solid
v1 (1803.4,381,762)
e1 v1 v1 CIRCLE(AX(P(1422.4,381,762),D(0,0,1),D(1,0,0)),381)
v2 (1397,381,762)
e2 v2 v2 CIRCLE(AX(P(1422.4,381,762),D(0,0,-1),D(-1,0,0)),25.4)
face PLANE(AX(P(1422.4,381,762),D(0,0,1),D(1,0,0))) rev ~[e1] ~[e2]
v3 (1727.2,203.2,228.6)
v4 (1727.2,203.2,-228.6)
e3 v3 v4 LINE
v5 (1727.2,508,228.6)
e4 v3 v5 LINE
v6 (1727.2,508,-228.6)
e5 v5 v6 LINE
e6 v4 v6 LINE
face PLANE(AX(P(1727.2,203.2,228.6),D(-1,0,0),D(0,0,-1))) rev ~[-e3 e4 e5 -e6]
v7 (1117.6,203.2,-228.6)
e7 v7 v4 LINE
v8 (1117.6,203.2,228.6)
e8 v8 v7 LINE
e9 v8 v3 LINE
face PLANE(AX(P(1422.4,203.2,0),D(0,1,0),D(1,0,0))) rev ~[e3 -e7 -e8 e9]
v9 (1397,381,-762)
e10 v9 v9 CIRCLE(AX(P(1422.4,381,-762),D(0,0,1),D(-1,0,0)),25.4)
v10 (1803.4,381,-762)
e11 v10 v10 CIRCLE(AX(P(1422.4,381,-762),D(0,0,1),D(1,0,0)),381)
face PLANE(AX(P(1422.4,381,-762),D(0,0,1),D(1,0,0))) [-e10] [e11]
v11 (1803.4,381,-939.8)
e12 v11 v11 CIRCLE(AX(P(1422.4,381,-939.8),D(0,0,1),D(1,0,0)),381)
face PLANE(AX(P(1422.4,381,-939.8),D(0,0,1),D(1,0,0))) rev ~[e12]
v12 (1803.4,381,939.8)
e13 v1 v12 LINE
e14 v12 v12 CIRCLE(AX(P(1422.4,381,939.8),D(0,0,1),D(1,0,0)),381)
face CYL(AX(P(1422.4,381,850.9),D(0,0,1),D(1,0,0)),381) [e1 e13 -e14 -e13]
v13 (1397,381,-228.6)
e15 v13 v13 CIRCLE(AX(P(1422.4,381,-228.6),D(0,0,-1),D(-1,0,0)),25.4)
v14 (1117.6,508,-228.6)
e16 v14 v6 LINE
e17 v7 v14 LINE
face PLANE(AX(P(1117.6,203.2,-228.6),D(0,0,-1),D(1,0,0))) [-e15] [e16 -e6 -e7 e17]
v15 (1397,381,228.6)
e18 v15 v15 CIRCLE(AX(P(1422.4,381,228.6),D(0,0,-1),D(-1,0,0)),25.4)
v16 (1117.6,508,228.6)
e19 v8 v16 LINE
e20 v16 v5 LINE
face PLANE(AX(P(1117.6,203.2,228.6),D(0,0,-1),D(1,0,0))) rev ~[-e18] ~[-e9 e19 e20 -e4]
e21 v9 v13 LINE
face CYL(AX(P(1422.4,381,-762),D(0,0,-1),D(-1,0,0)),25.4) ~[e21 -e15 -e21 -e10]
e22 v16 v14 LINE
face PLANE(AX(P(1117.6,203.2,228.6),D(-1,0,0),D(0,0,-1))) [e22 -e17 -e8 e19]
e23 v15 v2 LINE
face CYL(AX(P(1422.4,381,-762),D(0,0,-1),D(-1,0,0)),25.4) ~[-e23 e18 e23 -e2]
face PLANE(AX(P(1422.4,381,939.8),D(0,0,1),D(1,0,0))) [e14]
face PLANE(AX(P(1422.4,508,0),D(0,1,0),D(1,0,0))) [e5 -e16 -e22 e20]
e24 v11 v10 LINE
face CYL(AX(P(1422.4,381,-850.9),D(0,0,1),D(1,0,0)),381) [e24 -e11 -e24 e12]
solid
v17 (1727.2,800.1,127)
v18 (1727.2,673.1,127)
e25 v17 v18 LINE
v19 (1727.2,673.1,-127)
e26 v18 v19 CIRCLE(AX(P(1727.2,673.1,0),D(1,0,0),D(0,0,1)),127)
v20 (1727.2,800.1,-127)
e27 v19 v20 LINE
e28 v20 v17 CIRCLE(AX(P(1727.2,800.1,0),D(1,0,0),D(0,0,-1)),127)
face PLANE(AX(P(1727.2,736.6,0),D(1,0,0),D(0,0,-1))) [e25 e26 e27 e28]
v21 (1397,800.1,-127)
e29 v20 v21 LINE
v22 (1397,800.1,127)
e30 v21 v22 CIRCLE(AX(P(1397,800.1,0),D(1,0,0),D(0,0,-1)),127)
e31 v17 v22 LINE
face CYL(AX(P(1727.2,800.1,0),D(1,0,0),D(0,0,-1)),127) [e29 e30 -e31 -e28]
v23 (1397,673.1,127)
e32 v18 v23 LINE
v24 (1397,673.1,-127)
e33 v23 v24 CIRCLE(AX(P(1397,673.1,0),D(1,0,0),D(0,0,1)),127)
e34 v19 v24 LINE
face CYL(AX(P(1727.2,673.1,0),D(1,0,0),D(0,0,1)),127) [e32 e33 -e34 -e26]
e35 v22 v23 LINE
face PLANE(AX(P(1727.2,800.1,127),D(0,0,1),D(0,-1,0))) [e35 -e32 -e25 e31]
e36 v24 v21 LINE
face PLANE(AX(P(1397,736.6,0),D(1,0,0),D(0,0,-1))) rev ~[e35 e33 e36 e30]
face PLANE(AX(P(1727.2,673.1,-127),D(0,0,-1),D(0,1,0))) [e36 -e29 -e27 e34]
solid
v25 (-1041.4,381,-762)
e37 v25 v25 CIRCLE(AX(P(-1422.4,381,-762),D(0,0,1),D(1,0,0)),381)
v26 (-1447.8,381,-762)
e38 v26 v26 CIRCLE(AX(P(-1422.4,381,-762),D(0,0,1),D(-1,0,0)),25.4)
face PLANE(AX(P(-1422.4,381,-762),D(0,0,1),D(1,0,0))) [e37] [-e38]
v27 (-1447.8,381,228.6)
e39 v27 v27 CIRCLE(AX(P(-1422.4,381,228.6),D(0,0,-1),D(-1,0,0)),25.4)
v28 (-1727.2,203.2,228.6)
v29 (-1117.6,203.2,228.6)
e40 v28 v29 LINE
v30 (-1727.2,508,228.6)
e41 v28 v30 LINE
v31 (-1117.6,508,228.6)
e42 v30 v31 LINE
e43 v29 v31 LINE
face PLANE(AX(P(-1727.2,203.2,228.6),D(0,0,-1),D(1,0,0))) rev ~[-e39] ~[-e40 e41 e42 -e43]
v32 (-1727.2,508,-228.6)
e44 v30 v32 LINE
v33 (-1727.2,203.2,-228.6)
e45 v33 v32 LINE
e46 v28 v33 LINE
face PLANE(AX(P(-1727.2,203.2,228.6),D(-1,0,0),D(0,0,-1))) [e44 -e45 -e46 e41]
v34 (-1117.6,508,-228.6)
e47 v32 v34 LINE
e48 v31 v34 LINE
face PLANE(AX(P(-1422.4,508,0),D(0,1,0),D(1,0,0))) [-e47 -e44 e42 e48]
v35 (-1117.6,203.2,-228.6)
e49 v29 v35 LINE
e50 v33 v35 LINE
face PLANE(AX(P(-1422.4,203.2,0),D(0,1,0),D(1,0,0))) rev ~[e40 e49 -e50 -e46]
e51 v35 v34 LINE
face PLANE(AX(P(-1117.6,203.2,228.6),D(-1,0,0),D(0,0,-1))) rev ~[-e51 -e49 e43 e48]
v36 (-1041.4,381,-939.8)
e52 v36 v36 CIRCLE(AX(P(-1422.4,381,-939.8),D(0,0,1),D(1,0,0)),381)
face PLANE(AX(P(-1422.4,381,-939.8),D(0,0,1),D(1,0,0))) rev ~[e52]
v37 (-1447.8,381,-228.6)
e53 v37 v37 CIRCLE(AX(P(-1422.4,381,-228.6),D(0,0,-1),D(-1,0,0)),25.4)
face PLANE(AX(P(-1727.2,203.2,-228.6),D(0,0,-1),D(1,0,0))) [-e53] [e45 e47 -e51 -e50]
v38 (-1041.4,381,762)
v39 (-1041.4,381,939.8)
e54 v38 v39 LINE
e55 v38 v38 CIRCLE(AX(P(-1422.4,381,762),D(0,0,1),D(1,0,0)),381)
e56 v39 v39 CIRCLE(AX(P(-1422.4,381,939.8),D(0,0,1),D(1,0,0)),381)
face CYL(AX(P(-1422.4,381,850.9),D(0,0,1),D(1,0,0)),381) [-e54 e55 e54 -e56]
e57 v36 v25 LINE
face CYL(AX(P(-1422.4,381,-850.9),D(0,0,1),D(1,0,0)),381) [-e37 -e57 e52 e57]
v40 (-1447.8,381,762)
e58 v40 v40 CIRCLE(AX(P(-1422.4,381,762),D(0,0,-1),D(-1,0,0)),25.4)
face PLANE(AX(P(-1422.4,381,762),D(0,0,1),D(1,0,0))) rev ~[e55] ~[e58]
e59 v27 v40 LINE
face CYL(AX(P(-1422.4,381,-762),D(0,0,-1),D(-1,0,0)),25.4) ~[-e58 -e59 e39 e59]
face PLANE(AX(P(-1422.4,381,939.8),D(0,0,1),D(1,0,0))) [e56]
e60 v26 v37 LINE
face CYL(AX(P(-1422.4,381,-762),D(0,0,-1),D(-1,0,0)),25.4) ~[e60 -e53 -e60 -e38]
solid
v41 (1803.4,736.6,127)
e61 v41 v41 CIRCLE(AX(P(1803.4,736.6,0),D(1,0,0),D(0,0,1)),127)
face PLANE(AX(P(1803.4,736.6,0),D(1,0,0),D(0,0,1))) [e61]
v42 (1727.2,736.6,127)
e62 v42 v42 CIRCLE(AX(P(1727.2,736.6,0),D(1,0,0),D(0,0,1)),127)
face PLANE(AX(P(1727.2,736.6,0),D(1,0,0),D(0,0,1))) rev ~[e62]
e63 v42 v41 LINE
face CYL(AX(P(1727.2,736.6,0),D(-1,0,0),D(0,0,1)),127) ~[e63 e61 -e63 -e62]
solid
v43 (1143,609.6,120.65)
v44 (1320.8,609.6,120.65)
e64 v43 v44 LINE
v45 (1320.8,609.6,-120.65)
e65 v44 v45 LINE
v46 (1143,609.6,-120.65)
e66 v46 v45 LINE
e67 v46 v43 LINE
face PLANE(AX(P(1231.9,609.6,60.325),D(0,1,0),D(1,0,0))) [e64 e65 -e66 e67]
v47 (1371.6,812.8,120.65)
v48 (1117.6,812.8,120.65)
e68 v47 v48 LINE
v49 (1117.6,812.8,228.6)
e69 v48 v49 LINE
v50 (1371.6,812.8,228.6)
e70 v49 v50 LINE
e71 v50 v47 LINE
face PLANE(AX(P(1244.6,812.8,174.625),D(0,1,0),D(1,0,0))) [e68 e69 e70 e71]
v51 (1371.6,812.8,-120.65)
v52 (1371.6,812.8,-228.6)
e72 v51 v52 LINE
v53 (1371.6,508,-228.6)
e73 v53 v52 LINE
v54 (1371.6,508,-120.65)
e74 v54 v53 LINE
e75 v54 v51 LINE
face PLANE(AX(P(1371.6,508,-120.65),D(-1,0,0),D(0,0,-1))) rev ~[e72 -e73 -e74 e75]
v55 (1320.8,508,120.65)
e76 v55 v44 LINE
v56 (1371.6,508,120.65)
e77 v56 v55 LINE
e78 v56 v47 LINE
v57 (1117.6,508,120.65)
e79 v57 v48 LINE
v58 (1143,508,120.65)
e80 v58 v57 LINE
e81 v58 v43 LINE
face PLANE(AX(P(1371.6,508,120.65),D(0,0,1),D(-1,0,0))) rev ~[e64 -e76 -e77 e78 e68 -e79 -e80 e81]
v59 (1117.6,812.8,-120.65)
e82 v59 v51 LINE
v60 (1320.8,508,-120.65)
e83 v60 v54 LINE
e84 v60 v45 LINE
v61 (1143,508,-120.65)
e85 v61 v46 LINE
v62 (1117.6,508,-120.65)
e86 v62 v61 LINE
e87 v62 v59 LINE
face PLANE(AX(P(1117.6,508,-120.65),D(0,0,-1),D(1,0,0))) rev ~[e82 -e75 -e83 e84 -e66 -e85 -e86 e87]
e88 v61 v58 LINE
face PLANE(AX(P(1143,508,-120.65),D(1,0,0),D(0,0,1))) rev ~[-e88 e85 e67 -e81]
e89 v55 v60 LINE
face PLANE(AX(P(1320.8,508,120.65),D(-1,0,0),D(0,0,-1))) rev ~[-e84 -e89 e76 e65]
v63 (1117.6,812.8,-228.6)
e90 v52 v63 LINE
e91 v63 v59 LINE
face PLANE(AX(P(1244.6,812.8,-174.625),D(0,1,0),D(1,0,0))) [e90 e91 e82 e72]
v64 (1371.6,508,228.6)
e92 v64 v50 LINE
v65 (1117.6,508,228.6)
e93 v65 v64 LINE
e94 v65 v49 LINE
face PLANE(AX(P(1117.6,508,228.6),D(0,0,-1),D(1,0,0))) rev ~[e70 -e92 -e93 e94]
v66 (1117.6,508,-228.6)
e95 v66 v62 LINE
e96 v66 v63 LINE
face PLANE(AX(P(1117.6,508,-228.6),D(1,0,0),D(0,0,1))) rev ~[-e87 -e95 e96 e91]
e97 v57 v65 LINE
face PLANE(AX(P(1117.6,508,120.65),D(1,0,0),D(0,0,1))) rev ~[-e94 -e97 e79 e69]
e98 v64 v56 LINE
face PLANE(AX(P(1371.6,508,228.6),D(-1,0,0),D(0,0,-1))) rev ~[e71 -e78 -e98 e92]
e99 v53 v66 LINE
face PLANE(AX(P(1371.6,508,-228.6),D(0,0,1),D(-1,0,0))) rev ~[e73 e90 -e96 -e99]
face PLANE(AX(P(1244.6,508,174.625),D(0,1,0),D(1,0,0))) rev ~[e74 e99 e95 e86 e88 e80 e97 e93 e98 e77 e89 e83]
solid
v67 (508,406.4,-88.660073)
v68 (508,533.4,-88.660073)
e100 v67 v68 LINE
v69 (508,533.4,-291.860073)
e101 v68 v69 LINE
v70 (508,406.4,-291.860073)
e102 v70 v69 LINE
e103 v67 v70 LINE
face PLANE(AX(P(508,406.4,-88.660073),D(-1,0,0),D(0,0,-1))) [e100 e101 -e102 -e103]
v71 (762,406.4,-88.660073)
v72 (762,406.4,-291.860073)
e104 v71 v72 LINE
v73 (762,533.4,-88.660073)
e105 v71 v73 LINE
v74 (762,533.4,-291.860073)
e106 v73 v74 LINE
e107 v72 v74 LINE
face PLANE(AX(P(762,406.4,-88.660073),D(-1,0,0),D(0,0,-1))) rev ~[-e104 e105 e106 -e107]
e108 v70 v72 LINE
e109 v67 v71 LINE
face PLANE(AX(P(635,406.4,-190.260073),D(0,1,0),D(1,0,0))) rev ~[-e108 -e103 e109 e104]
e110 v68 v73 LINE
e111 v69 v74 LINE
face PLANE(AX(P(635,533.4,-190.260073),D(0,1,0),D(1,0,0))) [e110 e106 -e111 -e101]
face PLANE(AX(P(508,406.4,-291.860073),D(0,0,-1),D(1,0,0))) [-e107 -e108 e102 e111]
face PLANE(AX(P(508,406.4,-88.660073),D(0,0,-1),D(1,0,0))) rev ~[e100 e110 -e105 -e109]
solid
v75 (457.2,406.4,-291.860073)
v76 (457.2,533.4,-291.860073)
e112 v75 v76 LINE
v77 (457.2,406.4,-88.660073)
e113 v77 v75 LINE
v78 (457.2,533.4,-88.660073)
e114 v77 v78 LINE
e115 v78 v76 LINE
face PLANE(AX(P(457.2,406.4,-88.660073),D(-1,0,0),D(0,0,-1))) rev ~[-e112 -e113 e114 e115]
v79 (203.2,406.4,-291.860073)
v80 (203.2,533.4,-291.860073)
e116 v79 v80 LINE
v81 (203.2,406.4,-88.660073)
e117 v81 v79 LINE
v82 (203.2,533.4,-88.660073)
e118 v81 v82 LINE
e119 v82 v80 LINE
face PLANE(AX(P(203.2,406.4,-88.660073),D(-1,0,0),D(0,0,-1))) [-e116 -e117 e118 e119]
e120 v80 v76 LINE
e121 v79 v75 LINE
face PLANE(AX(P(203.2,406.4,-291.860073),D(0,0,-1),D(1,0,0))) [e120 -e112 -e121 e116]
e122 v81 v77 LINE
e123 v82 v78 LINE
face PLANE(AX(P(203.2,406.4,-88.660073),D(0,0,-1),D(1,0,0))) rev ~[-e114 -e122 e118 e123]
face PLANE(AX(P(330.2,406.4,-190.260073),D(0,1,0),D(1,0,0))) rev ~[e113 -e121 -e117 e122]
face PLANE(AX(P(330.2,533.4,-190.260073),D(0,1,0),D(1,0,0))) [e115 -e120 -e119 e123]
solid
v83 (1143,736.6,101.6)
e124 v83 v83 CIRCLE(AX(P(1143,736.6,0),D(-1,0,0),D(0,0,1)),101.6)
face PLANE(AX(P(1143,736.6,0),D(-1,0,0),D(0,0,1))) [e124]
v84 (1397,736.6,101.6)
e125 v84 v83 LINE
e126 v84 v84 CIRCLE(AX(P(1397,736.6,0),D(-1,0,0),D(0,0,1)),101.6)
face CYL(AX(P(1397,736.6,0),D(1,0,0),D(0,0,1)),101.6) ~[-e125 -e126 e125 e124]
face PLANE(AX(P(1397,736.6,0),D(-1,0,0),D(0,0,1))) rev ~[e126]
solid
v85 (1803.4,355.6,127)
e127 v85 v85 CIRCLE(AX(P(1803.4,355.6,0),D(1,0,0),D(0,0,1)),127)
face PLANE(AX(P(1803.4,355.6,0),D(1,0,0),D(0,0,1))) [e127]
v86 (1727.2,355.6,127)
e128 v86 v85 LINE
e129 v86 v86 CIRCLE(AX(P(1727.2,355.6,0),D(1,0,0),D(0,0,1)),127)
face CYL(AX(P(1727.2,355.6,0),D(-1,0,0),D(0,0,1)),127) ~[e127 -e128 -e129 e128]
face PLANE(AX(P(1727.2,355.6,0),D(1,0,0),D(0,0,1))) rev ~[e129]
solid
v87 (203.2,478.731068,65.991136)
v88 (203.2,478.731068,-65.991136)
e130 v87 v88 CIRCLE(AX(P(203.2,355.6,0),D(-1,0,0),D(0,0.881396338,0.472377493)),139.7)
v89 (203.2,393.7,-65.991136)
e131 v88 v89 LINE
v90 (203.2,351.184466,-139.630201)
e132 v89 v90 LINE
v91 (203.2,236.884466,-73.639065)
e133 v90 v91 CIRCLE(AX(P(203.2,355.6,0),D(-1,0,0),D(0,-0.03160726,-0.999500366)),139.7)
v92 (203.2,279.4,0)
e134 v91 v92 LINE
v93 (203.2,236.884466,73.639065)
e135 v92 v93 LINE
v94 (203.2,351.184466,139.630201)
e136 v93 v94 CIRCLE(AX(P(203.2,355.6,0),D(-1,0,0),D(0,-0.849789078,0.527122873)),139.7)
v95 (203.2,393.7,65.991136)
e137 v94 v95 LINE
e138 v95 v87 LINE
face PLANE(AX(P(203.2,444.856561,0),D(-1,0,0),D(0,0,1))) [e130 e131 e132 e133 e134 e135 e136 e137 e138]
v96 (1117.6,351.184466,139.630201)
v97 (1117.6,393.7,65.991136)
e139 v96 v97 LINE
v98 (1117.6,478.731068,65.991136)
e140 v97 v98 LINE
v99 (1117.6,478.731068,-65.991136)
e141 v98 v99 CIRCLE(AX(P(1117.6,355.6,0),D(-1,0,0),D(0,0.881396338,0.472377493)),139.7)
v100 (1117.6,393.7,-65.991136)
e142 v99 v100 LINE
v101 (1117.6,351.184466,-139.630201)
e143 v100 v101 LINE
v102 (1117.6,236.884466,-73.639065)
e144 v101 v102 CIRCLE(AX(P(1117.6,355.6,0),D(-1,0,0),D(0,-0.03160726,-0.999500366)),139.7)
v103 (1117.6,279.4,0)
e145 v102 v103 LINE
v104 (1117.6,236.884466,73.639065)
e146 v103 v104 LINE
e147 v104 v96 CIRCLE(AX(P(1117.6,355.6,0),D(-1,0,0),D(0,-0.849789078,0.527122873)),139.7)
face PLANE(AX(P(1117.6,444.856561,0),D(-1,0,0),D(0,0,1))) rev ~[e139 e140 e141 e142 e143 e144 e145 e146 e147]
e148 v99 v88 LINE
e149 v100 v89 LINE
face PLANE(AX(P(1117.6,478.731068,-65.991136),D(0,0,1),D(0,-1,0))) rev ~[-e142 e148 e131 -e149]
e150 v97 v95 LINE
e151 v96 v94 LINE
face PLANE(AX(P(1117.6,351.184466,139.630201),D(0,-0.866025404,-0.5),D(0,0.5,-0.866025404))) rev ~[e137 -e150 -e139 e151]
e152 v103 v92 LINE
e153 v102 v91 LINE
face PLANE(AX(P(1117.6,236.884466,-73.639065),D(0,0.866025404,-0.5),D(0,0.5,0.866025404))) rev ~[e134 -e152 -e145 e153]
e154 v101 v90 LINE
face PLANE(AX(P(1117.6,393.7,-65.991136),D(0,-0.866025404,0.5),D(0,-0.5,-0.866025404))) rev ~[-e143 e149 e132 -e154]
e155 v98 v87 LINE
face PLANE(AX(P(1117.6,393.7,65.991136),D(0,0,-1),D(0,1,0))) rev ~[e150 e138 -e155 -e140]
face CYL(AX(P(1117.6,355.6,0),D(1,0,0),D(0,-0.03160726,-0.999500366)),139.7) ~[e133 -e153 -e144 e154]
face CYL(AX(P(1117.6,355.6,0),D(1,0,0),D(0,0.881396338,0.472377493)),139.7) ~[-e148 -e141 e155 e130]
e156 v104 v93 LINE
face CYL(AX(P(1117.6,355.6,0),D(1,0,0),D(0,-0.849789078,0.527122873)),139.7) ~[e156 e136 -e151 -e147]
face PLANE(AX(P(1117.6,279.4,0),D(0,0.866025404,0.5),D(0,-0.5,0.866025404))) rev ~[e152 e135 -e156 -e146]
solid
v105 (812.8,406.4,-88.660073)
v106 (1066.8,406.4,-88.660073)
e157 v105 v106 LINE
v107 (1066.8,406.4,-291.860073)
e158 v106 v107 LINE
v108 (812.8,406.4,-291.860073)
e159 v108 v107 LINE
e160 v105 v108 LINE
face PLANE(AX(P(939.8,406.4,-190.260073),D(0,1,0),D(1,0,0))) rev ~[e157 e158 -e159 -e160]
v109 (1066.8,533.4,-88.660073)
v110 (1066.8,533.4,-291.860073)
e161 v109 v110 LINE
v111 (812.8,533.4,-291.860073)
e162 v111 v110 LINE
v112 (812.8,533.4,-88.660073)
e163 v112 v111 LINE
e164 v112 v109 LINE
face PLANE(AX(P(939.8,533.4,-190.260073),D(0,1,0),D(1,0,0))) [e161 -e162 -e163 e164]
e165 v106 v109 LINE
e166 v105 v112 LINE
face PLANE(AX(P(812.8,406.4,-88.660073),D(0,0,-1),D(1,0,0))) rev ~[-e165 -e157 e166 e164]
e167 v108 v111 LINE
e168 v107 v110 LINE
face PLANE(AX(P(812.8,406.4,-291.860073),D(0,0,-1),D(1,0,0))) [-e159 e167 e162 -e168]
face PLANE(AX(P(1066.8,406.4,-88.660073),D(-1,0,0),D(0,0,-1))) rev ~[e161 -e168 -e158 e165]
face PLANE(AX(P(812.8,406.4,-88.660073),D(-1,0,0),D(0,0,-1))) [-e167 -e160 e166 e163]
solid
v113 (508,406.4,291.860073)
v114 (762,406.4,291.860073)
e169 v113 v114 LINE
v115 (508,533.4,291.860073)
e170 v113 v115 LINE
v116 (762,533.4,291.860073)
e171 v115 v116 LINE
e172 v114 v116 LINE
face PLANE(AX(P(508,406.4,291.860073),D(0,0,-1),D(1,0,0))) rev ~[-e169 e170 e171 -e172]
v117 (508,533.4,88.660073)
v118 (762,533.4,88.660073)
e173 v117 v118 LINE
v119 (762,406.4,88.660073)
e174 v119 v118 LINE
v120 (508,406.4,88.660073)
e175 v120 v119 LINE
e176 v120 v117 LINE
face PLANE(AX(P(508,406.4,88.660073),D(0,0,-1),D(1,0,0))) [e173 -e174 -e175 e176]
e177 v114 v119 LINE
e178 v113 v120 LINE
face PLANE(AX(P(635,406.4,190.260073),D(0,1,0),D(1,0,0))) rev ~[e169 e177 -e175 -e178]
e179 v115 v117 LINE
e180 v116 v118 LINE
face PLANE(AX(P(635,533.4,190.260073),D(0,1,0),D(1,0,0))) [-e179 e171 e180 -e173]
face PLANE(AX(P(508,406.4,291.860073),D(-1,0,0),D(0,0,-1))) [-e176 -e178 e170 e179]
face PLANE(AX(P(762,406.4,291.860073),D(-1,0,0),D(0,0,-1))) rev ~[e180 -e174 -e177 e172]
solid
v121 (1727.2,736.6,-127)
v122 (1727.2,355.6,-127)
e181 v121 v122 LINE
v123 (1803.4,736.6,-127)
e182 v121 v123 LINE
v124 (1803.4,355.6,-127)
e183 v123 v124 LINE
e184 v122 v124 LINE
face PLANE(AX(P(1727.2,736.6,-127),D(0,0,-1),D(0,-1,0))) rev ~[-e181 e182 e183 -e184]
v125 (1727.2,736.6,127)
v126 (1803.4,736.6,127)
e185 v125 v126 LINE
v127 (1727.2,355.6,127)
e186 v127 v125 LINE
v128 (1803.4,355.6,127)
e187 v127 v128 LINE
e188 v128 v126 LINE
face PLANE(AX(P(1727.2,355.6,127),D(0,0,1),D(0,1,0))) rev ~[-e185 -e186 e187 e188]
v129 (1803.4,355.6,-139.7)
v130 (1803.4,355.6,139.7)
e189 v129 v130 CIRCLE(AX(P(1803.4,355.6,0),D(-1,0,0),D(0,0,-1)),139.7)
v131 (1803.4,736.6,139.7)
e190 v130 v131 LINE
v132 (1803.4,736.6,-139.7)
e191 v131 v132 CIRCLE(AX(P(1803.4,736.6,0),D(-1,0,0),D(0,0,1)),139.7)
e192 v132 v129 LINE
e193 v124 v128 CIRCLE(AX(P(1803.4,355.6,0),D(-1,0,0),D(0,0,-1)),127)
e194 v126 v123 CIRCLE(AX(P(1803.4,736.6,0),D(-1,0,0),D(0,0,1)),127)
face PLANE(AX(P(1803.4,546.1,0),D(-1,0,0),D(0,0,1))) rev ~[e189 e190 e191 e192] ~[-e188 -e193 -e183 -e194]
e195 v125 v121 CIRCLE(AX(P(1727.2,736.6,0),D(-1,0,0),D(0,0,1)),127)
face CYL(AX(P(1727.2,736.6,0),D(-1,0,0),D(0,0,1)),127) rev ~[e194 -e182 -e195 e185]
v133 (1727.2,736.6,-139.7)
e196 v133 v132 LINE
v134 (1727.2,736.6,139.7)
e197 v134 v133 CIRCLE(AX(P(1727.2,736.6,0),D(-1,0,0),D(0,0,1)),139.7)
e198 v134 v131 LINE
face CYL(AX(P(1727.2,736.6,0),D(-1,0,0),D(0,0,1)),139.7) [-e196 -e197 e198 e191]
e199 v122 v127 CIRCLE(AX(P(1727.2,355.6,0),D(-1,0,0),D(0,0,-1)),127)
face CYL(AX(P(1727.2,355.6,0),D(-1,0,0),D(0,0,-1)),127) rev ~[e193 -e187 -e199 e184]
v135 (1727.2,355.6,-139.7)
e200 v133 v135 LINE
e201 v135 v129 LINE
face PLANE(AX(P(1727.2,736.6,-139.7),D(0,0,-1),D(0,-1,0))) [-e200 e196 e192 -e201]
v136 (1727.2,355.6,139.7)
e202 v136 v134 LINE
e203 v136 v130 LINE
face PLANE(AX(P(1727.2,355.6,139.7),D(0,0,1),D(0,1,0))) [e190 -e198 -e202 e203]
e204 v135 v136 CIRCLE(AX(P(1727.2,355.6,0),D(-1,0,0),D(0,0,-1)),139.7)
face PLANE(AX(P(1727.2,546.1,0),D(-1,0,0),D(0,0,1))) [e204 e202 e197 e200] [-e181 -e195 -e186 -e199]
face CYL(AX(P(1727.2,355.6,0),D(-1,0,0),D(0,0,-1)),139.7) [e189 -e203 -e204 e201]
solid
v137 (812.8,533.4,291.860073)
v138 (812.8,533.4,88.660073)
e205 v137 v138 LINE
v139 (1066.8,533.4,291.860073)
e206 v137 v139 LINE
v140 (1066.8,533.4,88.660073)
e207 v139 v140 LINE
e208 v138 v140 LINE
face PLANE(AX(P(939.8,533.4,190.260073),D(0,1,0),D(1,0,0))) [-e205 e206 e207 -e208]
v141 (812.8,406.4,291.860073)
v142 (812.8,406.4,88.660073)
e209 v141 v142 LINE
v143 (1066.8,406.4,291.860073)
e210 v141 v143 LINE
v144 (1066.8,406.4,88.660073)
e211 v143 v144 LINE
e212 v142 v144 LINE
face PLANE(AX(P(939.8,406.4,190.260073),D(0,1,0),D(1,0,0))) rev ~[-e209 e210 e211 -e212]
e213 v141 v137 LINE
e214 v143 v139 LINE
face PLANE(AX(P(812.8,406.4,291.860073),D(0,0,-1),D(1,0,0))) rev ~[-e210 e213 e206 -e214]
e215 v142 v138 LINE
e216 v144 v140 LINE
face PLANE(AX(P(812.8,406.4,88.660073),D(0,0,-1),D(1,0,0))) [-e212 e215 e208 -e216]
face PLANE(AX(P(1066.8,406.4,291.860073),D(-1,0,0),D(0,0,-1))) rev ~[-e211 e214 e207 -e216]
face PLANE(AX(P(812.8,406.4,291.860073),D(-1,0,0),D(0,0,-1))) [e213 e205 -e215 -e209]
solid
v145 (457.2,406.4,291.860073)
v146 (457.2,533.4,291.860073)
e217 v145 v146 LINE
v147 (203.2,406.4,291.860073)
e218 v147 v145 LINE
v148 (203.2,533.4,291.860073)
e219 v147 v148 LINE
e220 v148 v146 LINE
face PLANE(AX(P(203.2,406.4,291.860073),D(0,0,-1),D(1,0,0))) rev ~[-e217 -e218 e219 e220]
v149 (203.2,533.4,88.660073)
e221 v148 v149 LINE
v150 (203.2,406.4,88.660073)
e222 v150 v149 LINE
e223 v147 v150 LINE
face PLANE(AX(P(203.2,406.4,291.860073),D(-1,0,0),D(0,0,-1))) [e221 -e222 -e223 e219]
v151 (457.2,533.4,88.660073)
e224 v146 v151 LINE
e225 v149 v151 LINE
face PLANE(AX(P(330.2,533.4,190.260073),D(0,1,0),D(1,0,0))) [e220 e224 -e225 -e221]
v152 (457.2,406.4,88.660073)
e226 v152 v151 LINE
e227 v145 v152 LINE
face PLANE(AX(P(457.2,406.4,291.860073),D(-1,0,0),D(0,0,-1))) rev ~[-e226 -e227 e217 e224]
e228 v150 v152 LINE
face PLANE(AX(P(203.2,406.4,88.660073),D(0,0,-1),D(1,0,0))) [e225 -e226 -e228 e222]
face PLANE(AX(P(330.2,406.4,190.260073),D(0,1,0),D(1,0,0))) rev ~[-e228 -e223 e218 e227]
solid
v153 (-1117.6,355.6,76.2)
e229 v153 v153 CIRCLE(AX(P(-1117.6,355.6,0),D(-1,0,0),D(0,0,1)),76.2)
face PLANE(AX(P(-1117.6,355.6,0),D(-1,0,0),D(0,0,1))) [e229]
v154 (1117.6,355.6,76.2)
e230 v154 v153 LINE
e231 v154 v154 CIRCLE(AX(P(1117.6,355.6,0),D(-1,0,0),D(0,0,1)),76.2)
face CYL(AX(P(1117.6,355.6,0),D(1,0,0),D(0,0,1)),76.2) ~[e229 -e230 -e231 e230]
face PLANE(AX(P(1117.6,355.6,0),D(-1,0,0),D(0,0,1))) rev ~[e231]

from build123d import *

# Parameters (mm, degrees)
SKETCH4_R              = 381
BOSS_EXTRUDE1_DEPTH    = 88.9
BOSS_EXTRUDE1_2_DEPTH  = 88.9
SKETCH3_R              = 381
BOSS_EXTRUDE2_DEPTH    = 88.9
BOSS_EXTRUDE2_2_DEPTH  = 88.9
BOSS_EXTRUDE3_START    = 203.2
SKETCH1_W              = 609.6
SKETCH1_H              = 457.2
BOSS_EXTRUDE3_DEPTH    = 304.8
BOSS_EXTRUDE3_2_DEPTH  = 304.8
SKETCH5_R              = 76.2
BOSS_EXTRUDE4_DEPTH    = 914.4
SKETCH5_3_R            = 76.2
BOSS_EXTRUDE5_DEPTH    = 2235.2
SKETCH6_R              = 127
BOSS_EXTRUDE6_DEPTH    = 76.2
BOSS_EXTRUDE6_2_DEPTH  = 76.2
BOSS_EXTRUDE8_DEPTH    = 330.2
SKETCH9_R              = 101.6
BOSS_EXTRUDE9_DEPTH    = 254
BOSS_EXTRUDE10_DEPTH   = 76.2
SKETCH11_W             = 254
SKETCH11_H             = 203.2
BOSS_EXTRUDE11_DEPTH   = 127
BOSS_EXTRUDE11_2_DEPTH = 127
BOSS_EXTRUDE11_3_DEPTH = 127
BOSS_EXTRUDE11_4_DEPTH = 127
BOSS_EXTRUDE11_5_DEPTH = 127
BOSS_EXTRUDE11_6_DEPTH = 127
BOSS_EXTRUDE12_DEPTH   = 304.8
BOSS_EXTRUDE12_2_DEPTH = 304.8
SKETCH12_3_W           = 177.8
SKETCH12_3_H           = 120.65
BOSS_EXTRUDE13_DEPTH   = 101.6
BOSS_EXTRUDE15_REACH   = 2649.242
SKETCH13_R             = 25.4


with BuildPart() as part:
    # Sketch4 → Boss-Extrude1 (new, symmetric)
    with BuildSketch(Plane.XY.offset(-850.9)):
        with Locations((1422.4, 381)):
            Circle(SKETCH4_R)
    extrude(amount=BOSS_EXTRUDE1_DEPTH, both=True)


with BuildPart() as body_2:
    # Sketch4 → Boss-Extrude1 2 (new, symmetric)
    with BuildSketch(Plane.XY.offset(-850.9)):
        with Locations((-1422.4, 381)):
            Circle(SKETCH4_R)
    extrude(amount=BOSS_EXTRUDE1_2_DEPTH, both=True)


with BuildPart() as body_3:
    # Sketch3 → Boss-Extrude2 (new, symmetric)
    with BuildSketch(Plane.XY.offset(850.9)):
        with Locations((1422.4, 381)):
            Circle(SKETCH3_R)
    extrude(amount=BOSS_EXTRUDE2_DEPTH, both=True)


with BuildPart() as body_4:
    # Sketch3 → Boss-Extrude2 2 (new, symmetric)
    with BuildSketch(Plane.XY.offset(850.9)):
        with Locations((-1422.4, 381)):
            Circle(SKETCH3_R)
    extrude(amount=BOSS_EXTRUDE2_2_DEPTH, both=True)

    # Boss-Extrude15: up to this face of the body (flat: up to its plane)
    boss_extrude15_end = Plane(body_4.part.faces().sort_by_distance((-1422.4, 381, 762))[0])
    # Sketch13 → Boss-Extrude15 (add, up to the picked face)
    with BuildSketch(Plane.XY.offset(-762), mode=Mode.PRIVATE) as boss_extrude15_sk1:
        with Locations(Location((-1422.4, 381, 0), (0, 0, 180))):
            Circle(SKETCH13_R)
    boss_extrude15_tool1 = split(extrude(boss_extrude15_sk1.sketch, amount=BOSS_EXTRUDE15_REACH, mode=Mode.PRIVATE), bisect_by=boss_extrude15_end, keep=Keep.BOTH, mode=Mode.PRIVATE)
    # Sketch13 → Boss-Extrude15 (add, up to the picked face)
    with BuildSketch(Plane.XY.offset(-762), mode=Mode.PRIVATE) as boss_extrude15_sk2:
        with Locations(Location((1422.4, 381, 0), (0, 0, 180))):
            Circle(SKETCH13_R)
    boss_extrude15_tool2 = split(extrude(boss_extrude15_sk2.sketch, amount=BOSS_EXTRUDE15_REACH, mode=Mode.PRIVATE), bisect_by=boss_extrude15_end, keep=Keep.BOTH, mode=Mode.PRIVATE)

    add(part.part)  # Boss-Extrude15 merges part

    add(body_2.part)  # Boss-Extrude15 merges body 2

    add(body_3.part)  # Boss-Extrude15 merges body 3


with BuildPart() as body_5:
    # Sketch1 → Boss-Extrude3 (new body)
    with BuildSketch(Plane(origin=(0, 0, 0), x_dir=(1, 0, 0), z_dir=(0, 1, 0)).offset(BOSS_EXTRUDE3_START)):
        with Locations((1422.4, 0)):
            Rectangle(SKETCH1_W, SKETCH1_H)
    extrude(amount=BOSS_EXTRUDE3_DEPTH)


with BuildPart() as body_6:
    # Sketch1 → Boss-Extrude3 2 (new body)
    with BuildSketch(Plane(origin=(0, 0, 0), x_dir=(1, 0, 0), z_dir=(0, 1, 0)).offset(BOSS_EXTRUDE3_START)):
        with Locations((-1422.4, 0)):
            Rectangle(SKETCH1_W, SKETCH1_H)
    extrude(amount=BOSS_EXTRUDE3_2_DEPTH)


with BuildPart() as body_7:
    # Sketch5 → Boss-Extrude4 (new body)
    with BuildSketch(Plane.ZY.offset(-1117.6)):
        with BuildLine():
            Line((-65.991135768, 478.731068378), (-65.991135768, 393.7))
            ThreePointArc((-65.991135768, 393.7), (0, 431.8), (65.991135768, 393.7))
            Line((65.991135768, 393.7), (65.991135768, 478.731068378))
            ThreePointArc((65.991135768, 478.731068378), (0, 495.3), (-65.991135768, 478.731068378))
        make_face()
        with BuildLine():
            Line((139.630201095, 351.184465811), (65.991135768, 393.7))
            ThreePointArc((65.991135768, 393.7), (73.603547963, 375.322011237), (76.2, 355.6))
            ThreePointArc((76.2, 355.6), (53.881536726, 301.718463274), (0, 279.4))
            Line((0, 279.4), (73.639065327, 236.884465811))
            ThreePointArc((73.639065327, 236.884465811), (120.983748909, 285.75), (139.630201095, 351.184465811))
        make_face()
        with BuildLine():
            ThreePointArc((0, 279.4), (-65.991135768, 317.5), (-65.991135768, 393.7))
            Line((-65.991135768, 393.7), (-139.630201095, 351.184465811))
            ThreePointArc((-139.630201095, 351.184465811), (-120.983748909, 285.75), (-73.639065327, 236.884465811))
            Line((-73.639065327, 236.884465811), (0, 279.4))
        make_face()
        with Locations((0, 355.6)):
            Circle(SKETCH5_R)
    extrude(amount=BOSS_EXTRUDE4_DEPTH)


with BuildPart() as body_8:
    # Sketch5<3> → Boss-Extrude5 (new body)
    with BuildSketch(Plane.ZY.offset(-1117.6)):
        with Locations((0, 355.6)):
            Circle(SKETCH5_3_R)
    extrude(amount=BOSS_EXTRUDE5_DEPTH)


with BuildPart() as body_9:
    # Sketch6 → Boss-Extrude6 (new body)
    with BuildSketch(Plane(origin=(1727.2, 0, 0), x_dir=(0, 0, -1), z_dir=(1, 0, 0))):
        with Locations(Location((0, 355.6, 0), (0, 0, 180))):
            Circle(SKETCH6_R)
    extrude(amount=BOSS_EXTRUDE6_DEPTH)


with BuildPart() as body_10:
    # Sketch6 → Boss-Extrude6 2 (new body)
    with BuildSketch(Plane(origin=(1727.2, 0, 0), x_dir=(0, 0, -1), z_dir=(1, 0, 0))):
        with Locations(Location((0, 736.6, 0), (0, 0, 180))):
            Circle(SKETCH6_R)
    extrude(amount=BOSS_EXTRUDE6_2_DEPTH)


with BuildPart() as body_11:
    # Sketch8 → Boss-Extrude8 (new body)
    with BuildSketch(Plane.ZY.offset(-1727.2)):
        with BuildLine():
            Line((-127, 673.1), (-127, 800.1))
            ThreePointArc((-127, 800.1), (0, 927.1), (127, 800.1))
            Line((127, 800.1), (127, 673.1))
            ThreePointArc((127, 673.1), (0, 546.1), (-127, 673.1))
        make_face()
    extrude(amount=BOSS_EXTRUDE8_DEPTH)


with BuildPart() as body_12:
    # Sketch9 → Boss-Extrude9 (new body)
    with BuildSketch(Plane.ZY.offset(-1397)):
        with Locations((0, 736.6)):
            Circle(SKETCH9_R)
    extrude(amount=BOSS_EXTRUDE9_DEPTH)


with BuildPart() as body_13:
    # Sketch6<3> → Boss-Extrude10 (new body)
    with BuildSketch(Plane(origin=(1727.2, 0, 0), x_dir=(0, 0, -1), z_dir=(1, 0, 0))):
        with BuildLine():
            Line((139.7, 736.6), (139.7, 355.6))
            ThreePointArc((139.7, 355.6), (0, 215.9), (-139.7, 355.6))
            Line((-139.7, 355.6), (-139.7, 736.6))
            ThreePointArc((-139.7, 736.6), (0, 876.3), (139.7, 736.6))
        make_face()
        with BuildLine():
            Line((-127, 355.6), (-127, 736.6))
            ThreePointArc((-127, 736.6), (0, 863.6), (127, 736.6))
            Line((127, 736.6), (127, 355.6))
            ThreePointArc((127, 355.6), (0, 228.6), (-127, 355.6))
        make_face(mode=Mode.SUBTRACT)
    extrude(amount=BOSS_EXTRUDE10_DEPTH)


with BuildPart() as body_14:
    # Sketch11 → Boss-Extrude11 (new body)
    with BuildSketch(Plane(origin=(0, 406.4, 0), x_dir=(1, 0, 0), z_dir=(0, 1, 0))):
        with Locations((635, -190.260072631)):
            Rectangle(SKETCH11_W, SKETCH11_H)
    extrude(amount=BOSS_EXTRUDE11_DEPTH)


with BuildPart() as body_15:
    # Sketch11 → Boss-Extrude11 2 (new body)
    with BuildSketch(Plane(origin=(0, 406.4, 0), x_dir=(1, 0, 0), z_dir=(0, 1, 0))):
        with Locations((330.2, -190.260072631)):
            Rectangle(SKETCH11_W, SKETCH11_H)
    extrude(amount=BOSS_EXTRUDE11_2_DEPTH)


with BuildPart() as body_16:
    # Sketch11 → Boss-Extrude11 3 (new body)
    with BuildSketch(Plane(origin=(0, 406.4, 0), x_dir=(1, 0, 0), z_dir=(0, 1, 0))):
        with Locations((939.8, -190.260072631)):
            Rectangle(SKETCH11_W, SKETCH11_H)
    extrude(amount=BOSS_EXTRUDE11_3_DEPTH)


with BuildPart() as body_17:
    # Sketch11 → Boss-Extrude11 4 (new body)
    with BuildSketch(Plane(origin=(0, 406.4, 0), x_dir=(1, 0, 0), z_dir=(0, 1, 0))):
        with Locations((939.8, 190.260072631)):
            Rectangle(SKETCH11_W, SKETCH11_H)
    extrude(amount=BOSS_EXTRUDE11_4_DEPTH)


with BuildPart() as body_18:
    # Sketch11 → Boss-Extrude11 5 (new body)
    with BuildSketch(Plane(origin=(0, 406.4, 0), x_dir=(1, 0, 0), z_dir=(0, 1, 0))):
        with Locations((635, 190.260072631)):
            Rectangle(SKETCH11_W, SKETCH11_H)
    extrude(amount=BOSS_EXTRUDE11_5_DEPTH)


with BuildPart() as body_19:
    # Sketch11 → Boss-Extrude11 6 (new body)
    with BuildSketch(Plane(origin=(0, 406.4, 0), x_dir=(1, 0, 0), z_dir=(0, 1, 0))):
        with Locations((330.2, 190.260072631)):
            Rectangle(SKETCH11_W, SKETCH11_H)
    extrude(amount=BOSS_EXTRUDE11_6_DEPTH)


with BuildPart() as body_20:
    # Sketch12 → Boss-Extrude12 (new body)
    with BuildSketch(Plane(origin=(0, 508, 0), x_dir=(1, 0, 0), z_dir=(0, 1, 0))):
        Polygon((1371.6, 228.6), (1117.6, 228.6), (1117.6, 120.65), (1143, 120.65), (1320.8, 120.65), (1371.6, 120.65), align=None)
    extrude(amount=BOSS_EXTRUDE12_DEPTH)



with BuildPart() as body_21:
    # Sketch12 → Boss-Extrude12 2 (new body)
    with BuildSketch(Plane(origin=(0, 508, 0), x_dir=(1, 0, 0), z_dir=(0, 1, 0))):
        Polygon((1143, -120.65), (1117.6, -120.65), (1117.6, -228.6), (1371.6, -228.6), (1371.6, -120.65), (1320.8, -120.65), align=None)
    extrude(amount=BOSS_EXTRUDE12_2_DEPTH)


with BuildPart() as body_20_1:
    add(body_20.part)

    add(body_21.part)  # Boss-Extrude13 merges body 21
    # Sketch12<3> → Boss-Extrude13 (add)
    with BuildSketch(Plane(origin=(0, 508, 0), x_dir=(1, 0, 0), z_dir=(0, 1, 0))):
        with Locations((1231.9, -60.325)):
            Rectangle(SKETCH12_3_W, SKETCH12_3_H)
        with Locations((1231.9, 60.325)):
            Rectangle(SKETCH12_3_W, SKETCH12_3_H)
    extrude(amount=BOSS_EXTRUDE13_DEPTH)


with BuildPart() as body_4_1:
    add(body_4.part)

    add(body_5.part)  # Boss-Extrude15 merges body 5

    add(body_6.part)  # Boss-Extrude15 merges body 6
    add(boss_extrude15_tool1.solids().sort_by(Axis((-1422.4, 381, -762), (0, 0, 1)))[0])
    add(boss_extrude15_tool2.solids().sort_by(Axis((1422.4, 381, -762), (0, 0, 1)))[0])


solid = Compound([body_7.part, body_8.part, body_9.part, body_10.part, body_11.part, body_12.part, body_13.part, body_14.part, body_15.part, body_16.part, body_17.part, body_18.part, body_19.part, body_20_1.part, body_4_1.part])
